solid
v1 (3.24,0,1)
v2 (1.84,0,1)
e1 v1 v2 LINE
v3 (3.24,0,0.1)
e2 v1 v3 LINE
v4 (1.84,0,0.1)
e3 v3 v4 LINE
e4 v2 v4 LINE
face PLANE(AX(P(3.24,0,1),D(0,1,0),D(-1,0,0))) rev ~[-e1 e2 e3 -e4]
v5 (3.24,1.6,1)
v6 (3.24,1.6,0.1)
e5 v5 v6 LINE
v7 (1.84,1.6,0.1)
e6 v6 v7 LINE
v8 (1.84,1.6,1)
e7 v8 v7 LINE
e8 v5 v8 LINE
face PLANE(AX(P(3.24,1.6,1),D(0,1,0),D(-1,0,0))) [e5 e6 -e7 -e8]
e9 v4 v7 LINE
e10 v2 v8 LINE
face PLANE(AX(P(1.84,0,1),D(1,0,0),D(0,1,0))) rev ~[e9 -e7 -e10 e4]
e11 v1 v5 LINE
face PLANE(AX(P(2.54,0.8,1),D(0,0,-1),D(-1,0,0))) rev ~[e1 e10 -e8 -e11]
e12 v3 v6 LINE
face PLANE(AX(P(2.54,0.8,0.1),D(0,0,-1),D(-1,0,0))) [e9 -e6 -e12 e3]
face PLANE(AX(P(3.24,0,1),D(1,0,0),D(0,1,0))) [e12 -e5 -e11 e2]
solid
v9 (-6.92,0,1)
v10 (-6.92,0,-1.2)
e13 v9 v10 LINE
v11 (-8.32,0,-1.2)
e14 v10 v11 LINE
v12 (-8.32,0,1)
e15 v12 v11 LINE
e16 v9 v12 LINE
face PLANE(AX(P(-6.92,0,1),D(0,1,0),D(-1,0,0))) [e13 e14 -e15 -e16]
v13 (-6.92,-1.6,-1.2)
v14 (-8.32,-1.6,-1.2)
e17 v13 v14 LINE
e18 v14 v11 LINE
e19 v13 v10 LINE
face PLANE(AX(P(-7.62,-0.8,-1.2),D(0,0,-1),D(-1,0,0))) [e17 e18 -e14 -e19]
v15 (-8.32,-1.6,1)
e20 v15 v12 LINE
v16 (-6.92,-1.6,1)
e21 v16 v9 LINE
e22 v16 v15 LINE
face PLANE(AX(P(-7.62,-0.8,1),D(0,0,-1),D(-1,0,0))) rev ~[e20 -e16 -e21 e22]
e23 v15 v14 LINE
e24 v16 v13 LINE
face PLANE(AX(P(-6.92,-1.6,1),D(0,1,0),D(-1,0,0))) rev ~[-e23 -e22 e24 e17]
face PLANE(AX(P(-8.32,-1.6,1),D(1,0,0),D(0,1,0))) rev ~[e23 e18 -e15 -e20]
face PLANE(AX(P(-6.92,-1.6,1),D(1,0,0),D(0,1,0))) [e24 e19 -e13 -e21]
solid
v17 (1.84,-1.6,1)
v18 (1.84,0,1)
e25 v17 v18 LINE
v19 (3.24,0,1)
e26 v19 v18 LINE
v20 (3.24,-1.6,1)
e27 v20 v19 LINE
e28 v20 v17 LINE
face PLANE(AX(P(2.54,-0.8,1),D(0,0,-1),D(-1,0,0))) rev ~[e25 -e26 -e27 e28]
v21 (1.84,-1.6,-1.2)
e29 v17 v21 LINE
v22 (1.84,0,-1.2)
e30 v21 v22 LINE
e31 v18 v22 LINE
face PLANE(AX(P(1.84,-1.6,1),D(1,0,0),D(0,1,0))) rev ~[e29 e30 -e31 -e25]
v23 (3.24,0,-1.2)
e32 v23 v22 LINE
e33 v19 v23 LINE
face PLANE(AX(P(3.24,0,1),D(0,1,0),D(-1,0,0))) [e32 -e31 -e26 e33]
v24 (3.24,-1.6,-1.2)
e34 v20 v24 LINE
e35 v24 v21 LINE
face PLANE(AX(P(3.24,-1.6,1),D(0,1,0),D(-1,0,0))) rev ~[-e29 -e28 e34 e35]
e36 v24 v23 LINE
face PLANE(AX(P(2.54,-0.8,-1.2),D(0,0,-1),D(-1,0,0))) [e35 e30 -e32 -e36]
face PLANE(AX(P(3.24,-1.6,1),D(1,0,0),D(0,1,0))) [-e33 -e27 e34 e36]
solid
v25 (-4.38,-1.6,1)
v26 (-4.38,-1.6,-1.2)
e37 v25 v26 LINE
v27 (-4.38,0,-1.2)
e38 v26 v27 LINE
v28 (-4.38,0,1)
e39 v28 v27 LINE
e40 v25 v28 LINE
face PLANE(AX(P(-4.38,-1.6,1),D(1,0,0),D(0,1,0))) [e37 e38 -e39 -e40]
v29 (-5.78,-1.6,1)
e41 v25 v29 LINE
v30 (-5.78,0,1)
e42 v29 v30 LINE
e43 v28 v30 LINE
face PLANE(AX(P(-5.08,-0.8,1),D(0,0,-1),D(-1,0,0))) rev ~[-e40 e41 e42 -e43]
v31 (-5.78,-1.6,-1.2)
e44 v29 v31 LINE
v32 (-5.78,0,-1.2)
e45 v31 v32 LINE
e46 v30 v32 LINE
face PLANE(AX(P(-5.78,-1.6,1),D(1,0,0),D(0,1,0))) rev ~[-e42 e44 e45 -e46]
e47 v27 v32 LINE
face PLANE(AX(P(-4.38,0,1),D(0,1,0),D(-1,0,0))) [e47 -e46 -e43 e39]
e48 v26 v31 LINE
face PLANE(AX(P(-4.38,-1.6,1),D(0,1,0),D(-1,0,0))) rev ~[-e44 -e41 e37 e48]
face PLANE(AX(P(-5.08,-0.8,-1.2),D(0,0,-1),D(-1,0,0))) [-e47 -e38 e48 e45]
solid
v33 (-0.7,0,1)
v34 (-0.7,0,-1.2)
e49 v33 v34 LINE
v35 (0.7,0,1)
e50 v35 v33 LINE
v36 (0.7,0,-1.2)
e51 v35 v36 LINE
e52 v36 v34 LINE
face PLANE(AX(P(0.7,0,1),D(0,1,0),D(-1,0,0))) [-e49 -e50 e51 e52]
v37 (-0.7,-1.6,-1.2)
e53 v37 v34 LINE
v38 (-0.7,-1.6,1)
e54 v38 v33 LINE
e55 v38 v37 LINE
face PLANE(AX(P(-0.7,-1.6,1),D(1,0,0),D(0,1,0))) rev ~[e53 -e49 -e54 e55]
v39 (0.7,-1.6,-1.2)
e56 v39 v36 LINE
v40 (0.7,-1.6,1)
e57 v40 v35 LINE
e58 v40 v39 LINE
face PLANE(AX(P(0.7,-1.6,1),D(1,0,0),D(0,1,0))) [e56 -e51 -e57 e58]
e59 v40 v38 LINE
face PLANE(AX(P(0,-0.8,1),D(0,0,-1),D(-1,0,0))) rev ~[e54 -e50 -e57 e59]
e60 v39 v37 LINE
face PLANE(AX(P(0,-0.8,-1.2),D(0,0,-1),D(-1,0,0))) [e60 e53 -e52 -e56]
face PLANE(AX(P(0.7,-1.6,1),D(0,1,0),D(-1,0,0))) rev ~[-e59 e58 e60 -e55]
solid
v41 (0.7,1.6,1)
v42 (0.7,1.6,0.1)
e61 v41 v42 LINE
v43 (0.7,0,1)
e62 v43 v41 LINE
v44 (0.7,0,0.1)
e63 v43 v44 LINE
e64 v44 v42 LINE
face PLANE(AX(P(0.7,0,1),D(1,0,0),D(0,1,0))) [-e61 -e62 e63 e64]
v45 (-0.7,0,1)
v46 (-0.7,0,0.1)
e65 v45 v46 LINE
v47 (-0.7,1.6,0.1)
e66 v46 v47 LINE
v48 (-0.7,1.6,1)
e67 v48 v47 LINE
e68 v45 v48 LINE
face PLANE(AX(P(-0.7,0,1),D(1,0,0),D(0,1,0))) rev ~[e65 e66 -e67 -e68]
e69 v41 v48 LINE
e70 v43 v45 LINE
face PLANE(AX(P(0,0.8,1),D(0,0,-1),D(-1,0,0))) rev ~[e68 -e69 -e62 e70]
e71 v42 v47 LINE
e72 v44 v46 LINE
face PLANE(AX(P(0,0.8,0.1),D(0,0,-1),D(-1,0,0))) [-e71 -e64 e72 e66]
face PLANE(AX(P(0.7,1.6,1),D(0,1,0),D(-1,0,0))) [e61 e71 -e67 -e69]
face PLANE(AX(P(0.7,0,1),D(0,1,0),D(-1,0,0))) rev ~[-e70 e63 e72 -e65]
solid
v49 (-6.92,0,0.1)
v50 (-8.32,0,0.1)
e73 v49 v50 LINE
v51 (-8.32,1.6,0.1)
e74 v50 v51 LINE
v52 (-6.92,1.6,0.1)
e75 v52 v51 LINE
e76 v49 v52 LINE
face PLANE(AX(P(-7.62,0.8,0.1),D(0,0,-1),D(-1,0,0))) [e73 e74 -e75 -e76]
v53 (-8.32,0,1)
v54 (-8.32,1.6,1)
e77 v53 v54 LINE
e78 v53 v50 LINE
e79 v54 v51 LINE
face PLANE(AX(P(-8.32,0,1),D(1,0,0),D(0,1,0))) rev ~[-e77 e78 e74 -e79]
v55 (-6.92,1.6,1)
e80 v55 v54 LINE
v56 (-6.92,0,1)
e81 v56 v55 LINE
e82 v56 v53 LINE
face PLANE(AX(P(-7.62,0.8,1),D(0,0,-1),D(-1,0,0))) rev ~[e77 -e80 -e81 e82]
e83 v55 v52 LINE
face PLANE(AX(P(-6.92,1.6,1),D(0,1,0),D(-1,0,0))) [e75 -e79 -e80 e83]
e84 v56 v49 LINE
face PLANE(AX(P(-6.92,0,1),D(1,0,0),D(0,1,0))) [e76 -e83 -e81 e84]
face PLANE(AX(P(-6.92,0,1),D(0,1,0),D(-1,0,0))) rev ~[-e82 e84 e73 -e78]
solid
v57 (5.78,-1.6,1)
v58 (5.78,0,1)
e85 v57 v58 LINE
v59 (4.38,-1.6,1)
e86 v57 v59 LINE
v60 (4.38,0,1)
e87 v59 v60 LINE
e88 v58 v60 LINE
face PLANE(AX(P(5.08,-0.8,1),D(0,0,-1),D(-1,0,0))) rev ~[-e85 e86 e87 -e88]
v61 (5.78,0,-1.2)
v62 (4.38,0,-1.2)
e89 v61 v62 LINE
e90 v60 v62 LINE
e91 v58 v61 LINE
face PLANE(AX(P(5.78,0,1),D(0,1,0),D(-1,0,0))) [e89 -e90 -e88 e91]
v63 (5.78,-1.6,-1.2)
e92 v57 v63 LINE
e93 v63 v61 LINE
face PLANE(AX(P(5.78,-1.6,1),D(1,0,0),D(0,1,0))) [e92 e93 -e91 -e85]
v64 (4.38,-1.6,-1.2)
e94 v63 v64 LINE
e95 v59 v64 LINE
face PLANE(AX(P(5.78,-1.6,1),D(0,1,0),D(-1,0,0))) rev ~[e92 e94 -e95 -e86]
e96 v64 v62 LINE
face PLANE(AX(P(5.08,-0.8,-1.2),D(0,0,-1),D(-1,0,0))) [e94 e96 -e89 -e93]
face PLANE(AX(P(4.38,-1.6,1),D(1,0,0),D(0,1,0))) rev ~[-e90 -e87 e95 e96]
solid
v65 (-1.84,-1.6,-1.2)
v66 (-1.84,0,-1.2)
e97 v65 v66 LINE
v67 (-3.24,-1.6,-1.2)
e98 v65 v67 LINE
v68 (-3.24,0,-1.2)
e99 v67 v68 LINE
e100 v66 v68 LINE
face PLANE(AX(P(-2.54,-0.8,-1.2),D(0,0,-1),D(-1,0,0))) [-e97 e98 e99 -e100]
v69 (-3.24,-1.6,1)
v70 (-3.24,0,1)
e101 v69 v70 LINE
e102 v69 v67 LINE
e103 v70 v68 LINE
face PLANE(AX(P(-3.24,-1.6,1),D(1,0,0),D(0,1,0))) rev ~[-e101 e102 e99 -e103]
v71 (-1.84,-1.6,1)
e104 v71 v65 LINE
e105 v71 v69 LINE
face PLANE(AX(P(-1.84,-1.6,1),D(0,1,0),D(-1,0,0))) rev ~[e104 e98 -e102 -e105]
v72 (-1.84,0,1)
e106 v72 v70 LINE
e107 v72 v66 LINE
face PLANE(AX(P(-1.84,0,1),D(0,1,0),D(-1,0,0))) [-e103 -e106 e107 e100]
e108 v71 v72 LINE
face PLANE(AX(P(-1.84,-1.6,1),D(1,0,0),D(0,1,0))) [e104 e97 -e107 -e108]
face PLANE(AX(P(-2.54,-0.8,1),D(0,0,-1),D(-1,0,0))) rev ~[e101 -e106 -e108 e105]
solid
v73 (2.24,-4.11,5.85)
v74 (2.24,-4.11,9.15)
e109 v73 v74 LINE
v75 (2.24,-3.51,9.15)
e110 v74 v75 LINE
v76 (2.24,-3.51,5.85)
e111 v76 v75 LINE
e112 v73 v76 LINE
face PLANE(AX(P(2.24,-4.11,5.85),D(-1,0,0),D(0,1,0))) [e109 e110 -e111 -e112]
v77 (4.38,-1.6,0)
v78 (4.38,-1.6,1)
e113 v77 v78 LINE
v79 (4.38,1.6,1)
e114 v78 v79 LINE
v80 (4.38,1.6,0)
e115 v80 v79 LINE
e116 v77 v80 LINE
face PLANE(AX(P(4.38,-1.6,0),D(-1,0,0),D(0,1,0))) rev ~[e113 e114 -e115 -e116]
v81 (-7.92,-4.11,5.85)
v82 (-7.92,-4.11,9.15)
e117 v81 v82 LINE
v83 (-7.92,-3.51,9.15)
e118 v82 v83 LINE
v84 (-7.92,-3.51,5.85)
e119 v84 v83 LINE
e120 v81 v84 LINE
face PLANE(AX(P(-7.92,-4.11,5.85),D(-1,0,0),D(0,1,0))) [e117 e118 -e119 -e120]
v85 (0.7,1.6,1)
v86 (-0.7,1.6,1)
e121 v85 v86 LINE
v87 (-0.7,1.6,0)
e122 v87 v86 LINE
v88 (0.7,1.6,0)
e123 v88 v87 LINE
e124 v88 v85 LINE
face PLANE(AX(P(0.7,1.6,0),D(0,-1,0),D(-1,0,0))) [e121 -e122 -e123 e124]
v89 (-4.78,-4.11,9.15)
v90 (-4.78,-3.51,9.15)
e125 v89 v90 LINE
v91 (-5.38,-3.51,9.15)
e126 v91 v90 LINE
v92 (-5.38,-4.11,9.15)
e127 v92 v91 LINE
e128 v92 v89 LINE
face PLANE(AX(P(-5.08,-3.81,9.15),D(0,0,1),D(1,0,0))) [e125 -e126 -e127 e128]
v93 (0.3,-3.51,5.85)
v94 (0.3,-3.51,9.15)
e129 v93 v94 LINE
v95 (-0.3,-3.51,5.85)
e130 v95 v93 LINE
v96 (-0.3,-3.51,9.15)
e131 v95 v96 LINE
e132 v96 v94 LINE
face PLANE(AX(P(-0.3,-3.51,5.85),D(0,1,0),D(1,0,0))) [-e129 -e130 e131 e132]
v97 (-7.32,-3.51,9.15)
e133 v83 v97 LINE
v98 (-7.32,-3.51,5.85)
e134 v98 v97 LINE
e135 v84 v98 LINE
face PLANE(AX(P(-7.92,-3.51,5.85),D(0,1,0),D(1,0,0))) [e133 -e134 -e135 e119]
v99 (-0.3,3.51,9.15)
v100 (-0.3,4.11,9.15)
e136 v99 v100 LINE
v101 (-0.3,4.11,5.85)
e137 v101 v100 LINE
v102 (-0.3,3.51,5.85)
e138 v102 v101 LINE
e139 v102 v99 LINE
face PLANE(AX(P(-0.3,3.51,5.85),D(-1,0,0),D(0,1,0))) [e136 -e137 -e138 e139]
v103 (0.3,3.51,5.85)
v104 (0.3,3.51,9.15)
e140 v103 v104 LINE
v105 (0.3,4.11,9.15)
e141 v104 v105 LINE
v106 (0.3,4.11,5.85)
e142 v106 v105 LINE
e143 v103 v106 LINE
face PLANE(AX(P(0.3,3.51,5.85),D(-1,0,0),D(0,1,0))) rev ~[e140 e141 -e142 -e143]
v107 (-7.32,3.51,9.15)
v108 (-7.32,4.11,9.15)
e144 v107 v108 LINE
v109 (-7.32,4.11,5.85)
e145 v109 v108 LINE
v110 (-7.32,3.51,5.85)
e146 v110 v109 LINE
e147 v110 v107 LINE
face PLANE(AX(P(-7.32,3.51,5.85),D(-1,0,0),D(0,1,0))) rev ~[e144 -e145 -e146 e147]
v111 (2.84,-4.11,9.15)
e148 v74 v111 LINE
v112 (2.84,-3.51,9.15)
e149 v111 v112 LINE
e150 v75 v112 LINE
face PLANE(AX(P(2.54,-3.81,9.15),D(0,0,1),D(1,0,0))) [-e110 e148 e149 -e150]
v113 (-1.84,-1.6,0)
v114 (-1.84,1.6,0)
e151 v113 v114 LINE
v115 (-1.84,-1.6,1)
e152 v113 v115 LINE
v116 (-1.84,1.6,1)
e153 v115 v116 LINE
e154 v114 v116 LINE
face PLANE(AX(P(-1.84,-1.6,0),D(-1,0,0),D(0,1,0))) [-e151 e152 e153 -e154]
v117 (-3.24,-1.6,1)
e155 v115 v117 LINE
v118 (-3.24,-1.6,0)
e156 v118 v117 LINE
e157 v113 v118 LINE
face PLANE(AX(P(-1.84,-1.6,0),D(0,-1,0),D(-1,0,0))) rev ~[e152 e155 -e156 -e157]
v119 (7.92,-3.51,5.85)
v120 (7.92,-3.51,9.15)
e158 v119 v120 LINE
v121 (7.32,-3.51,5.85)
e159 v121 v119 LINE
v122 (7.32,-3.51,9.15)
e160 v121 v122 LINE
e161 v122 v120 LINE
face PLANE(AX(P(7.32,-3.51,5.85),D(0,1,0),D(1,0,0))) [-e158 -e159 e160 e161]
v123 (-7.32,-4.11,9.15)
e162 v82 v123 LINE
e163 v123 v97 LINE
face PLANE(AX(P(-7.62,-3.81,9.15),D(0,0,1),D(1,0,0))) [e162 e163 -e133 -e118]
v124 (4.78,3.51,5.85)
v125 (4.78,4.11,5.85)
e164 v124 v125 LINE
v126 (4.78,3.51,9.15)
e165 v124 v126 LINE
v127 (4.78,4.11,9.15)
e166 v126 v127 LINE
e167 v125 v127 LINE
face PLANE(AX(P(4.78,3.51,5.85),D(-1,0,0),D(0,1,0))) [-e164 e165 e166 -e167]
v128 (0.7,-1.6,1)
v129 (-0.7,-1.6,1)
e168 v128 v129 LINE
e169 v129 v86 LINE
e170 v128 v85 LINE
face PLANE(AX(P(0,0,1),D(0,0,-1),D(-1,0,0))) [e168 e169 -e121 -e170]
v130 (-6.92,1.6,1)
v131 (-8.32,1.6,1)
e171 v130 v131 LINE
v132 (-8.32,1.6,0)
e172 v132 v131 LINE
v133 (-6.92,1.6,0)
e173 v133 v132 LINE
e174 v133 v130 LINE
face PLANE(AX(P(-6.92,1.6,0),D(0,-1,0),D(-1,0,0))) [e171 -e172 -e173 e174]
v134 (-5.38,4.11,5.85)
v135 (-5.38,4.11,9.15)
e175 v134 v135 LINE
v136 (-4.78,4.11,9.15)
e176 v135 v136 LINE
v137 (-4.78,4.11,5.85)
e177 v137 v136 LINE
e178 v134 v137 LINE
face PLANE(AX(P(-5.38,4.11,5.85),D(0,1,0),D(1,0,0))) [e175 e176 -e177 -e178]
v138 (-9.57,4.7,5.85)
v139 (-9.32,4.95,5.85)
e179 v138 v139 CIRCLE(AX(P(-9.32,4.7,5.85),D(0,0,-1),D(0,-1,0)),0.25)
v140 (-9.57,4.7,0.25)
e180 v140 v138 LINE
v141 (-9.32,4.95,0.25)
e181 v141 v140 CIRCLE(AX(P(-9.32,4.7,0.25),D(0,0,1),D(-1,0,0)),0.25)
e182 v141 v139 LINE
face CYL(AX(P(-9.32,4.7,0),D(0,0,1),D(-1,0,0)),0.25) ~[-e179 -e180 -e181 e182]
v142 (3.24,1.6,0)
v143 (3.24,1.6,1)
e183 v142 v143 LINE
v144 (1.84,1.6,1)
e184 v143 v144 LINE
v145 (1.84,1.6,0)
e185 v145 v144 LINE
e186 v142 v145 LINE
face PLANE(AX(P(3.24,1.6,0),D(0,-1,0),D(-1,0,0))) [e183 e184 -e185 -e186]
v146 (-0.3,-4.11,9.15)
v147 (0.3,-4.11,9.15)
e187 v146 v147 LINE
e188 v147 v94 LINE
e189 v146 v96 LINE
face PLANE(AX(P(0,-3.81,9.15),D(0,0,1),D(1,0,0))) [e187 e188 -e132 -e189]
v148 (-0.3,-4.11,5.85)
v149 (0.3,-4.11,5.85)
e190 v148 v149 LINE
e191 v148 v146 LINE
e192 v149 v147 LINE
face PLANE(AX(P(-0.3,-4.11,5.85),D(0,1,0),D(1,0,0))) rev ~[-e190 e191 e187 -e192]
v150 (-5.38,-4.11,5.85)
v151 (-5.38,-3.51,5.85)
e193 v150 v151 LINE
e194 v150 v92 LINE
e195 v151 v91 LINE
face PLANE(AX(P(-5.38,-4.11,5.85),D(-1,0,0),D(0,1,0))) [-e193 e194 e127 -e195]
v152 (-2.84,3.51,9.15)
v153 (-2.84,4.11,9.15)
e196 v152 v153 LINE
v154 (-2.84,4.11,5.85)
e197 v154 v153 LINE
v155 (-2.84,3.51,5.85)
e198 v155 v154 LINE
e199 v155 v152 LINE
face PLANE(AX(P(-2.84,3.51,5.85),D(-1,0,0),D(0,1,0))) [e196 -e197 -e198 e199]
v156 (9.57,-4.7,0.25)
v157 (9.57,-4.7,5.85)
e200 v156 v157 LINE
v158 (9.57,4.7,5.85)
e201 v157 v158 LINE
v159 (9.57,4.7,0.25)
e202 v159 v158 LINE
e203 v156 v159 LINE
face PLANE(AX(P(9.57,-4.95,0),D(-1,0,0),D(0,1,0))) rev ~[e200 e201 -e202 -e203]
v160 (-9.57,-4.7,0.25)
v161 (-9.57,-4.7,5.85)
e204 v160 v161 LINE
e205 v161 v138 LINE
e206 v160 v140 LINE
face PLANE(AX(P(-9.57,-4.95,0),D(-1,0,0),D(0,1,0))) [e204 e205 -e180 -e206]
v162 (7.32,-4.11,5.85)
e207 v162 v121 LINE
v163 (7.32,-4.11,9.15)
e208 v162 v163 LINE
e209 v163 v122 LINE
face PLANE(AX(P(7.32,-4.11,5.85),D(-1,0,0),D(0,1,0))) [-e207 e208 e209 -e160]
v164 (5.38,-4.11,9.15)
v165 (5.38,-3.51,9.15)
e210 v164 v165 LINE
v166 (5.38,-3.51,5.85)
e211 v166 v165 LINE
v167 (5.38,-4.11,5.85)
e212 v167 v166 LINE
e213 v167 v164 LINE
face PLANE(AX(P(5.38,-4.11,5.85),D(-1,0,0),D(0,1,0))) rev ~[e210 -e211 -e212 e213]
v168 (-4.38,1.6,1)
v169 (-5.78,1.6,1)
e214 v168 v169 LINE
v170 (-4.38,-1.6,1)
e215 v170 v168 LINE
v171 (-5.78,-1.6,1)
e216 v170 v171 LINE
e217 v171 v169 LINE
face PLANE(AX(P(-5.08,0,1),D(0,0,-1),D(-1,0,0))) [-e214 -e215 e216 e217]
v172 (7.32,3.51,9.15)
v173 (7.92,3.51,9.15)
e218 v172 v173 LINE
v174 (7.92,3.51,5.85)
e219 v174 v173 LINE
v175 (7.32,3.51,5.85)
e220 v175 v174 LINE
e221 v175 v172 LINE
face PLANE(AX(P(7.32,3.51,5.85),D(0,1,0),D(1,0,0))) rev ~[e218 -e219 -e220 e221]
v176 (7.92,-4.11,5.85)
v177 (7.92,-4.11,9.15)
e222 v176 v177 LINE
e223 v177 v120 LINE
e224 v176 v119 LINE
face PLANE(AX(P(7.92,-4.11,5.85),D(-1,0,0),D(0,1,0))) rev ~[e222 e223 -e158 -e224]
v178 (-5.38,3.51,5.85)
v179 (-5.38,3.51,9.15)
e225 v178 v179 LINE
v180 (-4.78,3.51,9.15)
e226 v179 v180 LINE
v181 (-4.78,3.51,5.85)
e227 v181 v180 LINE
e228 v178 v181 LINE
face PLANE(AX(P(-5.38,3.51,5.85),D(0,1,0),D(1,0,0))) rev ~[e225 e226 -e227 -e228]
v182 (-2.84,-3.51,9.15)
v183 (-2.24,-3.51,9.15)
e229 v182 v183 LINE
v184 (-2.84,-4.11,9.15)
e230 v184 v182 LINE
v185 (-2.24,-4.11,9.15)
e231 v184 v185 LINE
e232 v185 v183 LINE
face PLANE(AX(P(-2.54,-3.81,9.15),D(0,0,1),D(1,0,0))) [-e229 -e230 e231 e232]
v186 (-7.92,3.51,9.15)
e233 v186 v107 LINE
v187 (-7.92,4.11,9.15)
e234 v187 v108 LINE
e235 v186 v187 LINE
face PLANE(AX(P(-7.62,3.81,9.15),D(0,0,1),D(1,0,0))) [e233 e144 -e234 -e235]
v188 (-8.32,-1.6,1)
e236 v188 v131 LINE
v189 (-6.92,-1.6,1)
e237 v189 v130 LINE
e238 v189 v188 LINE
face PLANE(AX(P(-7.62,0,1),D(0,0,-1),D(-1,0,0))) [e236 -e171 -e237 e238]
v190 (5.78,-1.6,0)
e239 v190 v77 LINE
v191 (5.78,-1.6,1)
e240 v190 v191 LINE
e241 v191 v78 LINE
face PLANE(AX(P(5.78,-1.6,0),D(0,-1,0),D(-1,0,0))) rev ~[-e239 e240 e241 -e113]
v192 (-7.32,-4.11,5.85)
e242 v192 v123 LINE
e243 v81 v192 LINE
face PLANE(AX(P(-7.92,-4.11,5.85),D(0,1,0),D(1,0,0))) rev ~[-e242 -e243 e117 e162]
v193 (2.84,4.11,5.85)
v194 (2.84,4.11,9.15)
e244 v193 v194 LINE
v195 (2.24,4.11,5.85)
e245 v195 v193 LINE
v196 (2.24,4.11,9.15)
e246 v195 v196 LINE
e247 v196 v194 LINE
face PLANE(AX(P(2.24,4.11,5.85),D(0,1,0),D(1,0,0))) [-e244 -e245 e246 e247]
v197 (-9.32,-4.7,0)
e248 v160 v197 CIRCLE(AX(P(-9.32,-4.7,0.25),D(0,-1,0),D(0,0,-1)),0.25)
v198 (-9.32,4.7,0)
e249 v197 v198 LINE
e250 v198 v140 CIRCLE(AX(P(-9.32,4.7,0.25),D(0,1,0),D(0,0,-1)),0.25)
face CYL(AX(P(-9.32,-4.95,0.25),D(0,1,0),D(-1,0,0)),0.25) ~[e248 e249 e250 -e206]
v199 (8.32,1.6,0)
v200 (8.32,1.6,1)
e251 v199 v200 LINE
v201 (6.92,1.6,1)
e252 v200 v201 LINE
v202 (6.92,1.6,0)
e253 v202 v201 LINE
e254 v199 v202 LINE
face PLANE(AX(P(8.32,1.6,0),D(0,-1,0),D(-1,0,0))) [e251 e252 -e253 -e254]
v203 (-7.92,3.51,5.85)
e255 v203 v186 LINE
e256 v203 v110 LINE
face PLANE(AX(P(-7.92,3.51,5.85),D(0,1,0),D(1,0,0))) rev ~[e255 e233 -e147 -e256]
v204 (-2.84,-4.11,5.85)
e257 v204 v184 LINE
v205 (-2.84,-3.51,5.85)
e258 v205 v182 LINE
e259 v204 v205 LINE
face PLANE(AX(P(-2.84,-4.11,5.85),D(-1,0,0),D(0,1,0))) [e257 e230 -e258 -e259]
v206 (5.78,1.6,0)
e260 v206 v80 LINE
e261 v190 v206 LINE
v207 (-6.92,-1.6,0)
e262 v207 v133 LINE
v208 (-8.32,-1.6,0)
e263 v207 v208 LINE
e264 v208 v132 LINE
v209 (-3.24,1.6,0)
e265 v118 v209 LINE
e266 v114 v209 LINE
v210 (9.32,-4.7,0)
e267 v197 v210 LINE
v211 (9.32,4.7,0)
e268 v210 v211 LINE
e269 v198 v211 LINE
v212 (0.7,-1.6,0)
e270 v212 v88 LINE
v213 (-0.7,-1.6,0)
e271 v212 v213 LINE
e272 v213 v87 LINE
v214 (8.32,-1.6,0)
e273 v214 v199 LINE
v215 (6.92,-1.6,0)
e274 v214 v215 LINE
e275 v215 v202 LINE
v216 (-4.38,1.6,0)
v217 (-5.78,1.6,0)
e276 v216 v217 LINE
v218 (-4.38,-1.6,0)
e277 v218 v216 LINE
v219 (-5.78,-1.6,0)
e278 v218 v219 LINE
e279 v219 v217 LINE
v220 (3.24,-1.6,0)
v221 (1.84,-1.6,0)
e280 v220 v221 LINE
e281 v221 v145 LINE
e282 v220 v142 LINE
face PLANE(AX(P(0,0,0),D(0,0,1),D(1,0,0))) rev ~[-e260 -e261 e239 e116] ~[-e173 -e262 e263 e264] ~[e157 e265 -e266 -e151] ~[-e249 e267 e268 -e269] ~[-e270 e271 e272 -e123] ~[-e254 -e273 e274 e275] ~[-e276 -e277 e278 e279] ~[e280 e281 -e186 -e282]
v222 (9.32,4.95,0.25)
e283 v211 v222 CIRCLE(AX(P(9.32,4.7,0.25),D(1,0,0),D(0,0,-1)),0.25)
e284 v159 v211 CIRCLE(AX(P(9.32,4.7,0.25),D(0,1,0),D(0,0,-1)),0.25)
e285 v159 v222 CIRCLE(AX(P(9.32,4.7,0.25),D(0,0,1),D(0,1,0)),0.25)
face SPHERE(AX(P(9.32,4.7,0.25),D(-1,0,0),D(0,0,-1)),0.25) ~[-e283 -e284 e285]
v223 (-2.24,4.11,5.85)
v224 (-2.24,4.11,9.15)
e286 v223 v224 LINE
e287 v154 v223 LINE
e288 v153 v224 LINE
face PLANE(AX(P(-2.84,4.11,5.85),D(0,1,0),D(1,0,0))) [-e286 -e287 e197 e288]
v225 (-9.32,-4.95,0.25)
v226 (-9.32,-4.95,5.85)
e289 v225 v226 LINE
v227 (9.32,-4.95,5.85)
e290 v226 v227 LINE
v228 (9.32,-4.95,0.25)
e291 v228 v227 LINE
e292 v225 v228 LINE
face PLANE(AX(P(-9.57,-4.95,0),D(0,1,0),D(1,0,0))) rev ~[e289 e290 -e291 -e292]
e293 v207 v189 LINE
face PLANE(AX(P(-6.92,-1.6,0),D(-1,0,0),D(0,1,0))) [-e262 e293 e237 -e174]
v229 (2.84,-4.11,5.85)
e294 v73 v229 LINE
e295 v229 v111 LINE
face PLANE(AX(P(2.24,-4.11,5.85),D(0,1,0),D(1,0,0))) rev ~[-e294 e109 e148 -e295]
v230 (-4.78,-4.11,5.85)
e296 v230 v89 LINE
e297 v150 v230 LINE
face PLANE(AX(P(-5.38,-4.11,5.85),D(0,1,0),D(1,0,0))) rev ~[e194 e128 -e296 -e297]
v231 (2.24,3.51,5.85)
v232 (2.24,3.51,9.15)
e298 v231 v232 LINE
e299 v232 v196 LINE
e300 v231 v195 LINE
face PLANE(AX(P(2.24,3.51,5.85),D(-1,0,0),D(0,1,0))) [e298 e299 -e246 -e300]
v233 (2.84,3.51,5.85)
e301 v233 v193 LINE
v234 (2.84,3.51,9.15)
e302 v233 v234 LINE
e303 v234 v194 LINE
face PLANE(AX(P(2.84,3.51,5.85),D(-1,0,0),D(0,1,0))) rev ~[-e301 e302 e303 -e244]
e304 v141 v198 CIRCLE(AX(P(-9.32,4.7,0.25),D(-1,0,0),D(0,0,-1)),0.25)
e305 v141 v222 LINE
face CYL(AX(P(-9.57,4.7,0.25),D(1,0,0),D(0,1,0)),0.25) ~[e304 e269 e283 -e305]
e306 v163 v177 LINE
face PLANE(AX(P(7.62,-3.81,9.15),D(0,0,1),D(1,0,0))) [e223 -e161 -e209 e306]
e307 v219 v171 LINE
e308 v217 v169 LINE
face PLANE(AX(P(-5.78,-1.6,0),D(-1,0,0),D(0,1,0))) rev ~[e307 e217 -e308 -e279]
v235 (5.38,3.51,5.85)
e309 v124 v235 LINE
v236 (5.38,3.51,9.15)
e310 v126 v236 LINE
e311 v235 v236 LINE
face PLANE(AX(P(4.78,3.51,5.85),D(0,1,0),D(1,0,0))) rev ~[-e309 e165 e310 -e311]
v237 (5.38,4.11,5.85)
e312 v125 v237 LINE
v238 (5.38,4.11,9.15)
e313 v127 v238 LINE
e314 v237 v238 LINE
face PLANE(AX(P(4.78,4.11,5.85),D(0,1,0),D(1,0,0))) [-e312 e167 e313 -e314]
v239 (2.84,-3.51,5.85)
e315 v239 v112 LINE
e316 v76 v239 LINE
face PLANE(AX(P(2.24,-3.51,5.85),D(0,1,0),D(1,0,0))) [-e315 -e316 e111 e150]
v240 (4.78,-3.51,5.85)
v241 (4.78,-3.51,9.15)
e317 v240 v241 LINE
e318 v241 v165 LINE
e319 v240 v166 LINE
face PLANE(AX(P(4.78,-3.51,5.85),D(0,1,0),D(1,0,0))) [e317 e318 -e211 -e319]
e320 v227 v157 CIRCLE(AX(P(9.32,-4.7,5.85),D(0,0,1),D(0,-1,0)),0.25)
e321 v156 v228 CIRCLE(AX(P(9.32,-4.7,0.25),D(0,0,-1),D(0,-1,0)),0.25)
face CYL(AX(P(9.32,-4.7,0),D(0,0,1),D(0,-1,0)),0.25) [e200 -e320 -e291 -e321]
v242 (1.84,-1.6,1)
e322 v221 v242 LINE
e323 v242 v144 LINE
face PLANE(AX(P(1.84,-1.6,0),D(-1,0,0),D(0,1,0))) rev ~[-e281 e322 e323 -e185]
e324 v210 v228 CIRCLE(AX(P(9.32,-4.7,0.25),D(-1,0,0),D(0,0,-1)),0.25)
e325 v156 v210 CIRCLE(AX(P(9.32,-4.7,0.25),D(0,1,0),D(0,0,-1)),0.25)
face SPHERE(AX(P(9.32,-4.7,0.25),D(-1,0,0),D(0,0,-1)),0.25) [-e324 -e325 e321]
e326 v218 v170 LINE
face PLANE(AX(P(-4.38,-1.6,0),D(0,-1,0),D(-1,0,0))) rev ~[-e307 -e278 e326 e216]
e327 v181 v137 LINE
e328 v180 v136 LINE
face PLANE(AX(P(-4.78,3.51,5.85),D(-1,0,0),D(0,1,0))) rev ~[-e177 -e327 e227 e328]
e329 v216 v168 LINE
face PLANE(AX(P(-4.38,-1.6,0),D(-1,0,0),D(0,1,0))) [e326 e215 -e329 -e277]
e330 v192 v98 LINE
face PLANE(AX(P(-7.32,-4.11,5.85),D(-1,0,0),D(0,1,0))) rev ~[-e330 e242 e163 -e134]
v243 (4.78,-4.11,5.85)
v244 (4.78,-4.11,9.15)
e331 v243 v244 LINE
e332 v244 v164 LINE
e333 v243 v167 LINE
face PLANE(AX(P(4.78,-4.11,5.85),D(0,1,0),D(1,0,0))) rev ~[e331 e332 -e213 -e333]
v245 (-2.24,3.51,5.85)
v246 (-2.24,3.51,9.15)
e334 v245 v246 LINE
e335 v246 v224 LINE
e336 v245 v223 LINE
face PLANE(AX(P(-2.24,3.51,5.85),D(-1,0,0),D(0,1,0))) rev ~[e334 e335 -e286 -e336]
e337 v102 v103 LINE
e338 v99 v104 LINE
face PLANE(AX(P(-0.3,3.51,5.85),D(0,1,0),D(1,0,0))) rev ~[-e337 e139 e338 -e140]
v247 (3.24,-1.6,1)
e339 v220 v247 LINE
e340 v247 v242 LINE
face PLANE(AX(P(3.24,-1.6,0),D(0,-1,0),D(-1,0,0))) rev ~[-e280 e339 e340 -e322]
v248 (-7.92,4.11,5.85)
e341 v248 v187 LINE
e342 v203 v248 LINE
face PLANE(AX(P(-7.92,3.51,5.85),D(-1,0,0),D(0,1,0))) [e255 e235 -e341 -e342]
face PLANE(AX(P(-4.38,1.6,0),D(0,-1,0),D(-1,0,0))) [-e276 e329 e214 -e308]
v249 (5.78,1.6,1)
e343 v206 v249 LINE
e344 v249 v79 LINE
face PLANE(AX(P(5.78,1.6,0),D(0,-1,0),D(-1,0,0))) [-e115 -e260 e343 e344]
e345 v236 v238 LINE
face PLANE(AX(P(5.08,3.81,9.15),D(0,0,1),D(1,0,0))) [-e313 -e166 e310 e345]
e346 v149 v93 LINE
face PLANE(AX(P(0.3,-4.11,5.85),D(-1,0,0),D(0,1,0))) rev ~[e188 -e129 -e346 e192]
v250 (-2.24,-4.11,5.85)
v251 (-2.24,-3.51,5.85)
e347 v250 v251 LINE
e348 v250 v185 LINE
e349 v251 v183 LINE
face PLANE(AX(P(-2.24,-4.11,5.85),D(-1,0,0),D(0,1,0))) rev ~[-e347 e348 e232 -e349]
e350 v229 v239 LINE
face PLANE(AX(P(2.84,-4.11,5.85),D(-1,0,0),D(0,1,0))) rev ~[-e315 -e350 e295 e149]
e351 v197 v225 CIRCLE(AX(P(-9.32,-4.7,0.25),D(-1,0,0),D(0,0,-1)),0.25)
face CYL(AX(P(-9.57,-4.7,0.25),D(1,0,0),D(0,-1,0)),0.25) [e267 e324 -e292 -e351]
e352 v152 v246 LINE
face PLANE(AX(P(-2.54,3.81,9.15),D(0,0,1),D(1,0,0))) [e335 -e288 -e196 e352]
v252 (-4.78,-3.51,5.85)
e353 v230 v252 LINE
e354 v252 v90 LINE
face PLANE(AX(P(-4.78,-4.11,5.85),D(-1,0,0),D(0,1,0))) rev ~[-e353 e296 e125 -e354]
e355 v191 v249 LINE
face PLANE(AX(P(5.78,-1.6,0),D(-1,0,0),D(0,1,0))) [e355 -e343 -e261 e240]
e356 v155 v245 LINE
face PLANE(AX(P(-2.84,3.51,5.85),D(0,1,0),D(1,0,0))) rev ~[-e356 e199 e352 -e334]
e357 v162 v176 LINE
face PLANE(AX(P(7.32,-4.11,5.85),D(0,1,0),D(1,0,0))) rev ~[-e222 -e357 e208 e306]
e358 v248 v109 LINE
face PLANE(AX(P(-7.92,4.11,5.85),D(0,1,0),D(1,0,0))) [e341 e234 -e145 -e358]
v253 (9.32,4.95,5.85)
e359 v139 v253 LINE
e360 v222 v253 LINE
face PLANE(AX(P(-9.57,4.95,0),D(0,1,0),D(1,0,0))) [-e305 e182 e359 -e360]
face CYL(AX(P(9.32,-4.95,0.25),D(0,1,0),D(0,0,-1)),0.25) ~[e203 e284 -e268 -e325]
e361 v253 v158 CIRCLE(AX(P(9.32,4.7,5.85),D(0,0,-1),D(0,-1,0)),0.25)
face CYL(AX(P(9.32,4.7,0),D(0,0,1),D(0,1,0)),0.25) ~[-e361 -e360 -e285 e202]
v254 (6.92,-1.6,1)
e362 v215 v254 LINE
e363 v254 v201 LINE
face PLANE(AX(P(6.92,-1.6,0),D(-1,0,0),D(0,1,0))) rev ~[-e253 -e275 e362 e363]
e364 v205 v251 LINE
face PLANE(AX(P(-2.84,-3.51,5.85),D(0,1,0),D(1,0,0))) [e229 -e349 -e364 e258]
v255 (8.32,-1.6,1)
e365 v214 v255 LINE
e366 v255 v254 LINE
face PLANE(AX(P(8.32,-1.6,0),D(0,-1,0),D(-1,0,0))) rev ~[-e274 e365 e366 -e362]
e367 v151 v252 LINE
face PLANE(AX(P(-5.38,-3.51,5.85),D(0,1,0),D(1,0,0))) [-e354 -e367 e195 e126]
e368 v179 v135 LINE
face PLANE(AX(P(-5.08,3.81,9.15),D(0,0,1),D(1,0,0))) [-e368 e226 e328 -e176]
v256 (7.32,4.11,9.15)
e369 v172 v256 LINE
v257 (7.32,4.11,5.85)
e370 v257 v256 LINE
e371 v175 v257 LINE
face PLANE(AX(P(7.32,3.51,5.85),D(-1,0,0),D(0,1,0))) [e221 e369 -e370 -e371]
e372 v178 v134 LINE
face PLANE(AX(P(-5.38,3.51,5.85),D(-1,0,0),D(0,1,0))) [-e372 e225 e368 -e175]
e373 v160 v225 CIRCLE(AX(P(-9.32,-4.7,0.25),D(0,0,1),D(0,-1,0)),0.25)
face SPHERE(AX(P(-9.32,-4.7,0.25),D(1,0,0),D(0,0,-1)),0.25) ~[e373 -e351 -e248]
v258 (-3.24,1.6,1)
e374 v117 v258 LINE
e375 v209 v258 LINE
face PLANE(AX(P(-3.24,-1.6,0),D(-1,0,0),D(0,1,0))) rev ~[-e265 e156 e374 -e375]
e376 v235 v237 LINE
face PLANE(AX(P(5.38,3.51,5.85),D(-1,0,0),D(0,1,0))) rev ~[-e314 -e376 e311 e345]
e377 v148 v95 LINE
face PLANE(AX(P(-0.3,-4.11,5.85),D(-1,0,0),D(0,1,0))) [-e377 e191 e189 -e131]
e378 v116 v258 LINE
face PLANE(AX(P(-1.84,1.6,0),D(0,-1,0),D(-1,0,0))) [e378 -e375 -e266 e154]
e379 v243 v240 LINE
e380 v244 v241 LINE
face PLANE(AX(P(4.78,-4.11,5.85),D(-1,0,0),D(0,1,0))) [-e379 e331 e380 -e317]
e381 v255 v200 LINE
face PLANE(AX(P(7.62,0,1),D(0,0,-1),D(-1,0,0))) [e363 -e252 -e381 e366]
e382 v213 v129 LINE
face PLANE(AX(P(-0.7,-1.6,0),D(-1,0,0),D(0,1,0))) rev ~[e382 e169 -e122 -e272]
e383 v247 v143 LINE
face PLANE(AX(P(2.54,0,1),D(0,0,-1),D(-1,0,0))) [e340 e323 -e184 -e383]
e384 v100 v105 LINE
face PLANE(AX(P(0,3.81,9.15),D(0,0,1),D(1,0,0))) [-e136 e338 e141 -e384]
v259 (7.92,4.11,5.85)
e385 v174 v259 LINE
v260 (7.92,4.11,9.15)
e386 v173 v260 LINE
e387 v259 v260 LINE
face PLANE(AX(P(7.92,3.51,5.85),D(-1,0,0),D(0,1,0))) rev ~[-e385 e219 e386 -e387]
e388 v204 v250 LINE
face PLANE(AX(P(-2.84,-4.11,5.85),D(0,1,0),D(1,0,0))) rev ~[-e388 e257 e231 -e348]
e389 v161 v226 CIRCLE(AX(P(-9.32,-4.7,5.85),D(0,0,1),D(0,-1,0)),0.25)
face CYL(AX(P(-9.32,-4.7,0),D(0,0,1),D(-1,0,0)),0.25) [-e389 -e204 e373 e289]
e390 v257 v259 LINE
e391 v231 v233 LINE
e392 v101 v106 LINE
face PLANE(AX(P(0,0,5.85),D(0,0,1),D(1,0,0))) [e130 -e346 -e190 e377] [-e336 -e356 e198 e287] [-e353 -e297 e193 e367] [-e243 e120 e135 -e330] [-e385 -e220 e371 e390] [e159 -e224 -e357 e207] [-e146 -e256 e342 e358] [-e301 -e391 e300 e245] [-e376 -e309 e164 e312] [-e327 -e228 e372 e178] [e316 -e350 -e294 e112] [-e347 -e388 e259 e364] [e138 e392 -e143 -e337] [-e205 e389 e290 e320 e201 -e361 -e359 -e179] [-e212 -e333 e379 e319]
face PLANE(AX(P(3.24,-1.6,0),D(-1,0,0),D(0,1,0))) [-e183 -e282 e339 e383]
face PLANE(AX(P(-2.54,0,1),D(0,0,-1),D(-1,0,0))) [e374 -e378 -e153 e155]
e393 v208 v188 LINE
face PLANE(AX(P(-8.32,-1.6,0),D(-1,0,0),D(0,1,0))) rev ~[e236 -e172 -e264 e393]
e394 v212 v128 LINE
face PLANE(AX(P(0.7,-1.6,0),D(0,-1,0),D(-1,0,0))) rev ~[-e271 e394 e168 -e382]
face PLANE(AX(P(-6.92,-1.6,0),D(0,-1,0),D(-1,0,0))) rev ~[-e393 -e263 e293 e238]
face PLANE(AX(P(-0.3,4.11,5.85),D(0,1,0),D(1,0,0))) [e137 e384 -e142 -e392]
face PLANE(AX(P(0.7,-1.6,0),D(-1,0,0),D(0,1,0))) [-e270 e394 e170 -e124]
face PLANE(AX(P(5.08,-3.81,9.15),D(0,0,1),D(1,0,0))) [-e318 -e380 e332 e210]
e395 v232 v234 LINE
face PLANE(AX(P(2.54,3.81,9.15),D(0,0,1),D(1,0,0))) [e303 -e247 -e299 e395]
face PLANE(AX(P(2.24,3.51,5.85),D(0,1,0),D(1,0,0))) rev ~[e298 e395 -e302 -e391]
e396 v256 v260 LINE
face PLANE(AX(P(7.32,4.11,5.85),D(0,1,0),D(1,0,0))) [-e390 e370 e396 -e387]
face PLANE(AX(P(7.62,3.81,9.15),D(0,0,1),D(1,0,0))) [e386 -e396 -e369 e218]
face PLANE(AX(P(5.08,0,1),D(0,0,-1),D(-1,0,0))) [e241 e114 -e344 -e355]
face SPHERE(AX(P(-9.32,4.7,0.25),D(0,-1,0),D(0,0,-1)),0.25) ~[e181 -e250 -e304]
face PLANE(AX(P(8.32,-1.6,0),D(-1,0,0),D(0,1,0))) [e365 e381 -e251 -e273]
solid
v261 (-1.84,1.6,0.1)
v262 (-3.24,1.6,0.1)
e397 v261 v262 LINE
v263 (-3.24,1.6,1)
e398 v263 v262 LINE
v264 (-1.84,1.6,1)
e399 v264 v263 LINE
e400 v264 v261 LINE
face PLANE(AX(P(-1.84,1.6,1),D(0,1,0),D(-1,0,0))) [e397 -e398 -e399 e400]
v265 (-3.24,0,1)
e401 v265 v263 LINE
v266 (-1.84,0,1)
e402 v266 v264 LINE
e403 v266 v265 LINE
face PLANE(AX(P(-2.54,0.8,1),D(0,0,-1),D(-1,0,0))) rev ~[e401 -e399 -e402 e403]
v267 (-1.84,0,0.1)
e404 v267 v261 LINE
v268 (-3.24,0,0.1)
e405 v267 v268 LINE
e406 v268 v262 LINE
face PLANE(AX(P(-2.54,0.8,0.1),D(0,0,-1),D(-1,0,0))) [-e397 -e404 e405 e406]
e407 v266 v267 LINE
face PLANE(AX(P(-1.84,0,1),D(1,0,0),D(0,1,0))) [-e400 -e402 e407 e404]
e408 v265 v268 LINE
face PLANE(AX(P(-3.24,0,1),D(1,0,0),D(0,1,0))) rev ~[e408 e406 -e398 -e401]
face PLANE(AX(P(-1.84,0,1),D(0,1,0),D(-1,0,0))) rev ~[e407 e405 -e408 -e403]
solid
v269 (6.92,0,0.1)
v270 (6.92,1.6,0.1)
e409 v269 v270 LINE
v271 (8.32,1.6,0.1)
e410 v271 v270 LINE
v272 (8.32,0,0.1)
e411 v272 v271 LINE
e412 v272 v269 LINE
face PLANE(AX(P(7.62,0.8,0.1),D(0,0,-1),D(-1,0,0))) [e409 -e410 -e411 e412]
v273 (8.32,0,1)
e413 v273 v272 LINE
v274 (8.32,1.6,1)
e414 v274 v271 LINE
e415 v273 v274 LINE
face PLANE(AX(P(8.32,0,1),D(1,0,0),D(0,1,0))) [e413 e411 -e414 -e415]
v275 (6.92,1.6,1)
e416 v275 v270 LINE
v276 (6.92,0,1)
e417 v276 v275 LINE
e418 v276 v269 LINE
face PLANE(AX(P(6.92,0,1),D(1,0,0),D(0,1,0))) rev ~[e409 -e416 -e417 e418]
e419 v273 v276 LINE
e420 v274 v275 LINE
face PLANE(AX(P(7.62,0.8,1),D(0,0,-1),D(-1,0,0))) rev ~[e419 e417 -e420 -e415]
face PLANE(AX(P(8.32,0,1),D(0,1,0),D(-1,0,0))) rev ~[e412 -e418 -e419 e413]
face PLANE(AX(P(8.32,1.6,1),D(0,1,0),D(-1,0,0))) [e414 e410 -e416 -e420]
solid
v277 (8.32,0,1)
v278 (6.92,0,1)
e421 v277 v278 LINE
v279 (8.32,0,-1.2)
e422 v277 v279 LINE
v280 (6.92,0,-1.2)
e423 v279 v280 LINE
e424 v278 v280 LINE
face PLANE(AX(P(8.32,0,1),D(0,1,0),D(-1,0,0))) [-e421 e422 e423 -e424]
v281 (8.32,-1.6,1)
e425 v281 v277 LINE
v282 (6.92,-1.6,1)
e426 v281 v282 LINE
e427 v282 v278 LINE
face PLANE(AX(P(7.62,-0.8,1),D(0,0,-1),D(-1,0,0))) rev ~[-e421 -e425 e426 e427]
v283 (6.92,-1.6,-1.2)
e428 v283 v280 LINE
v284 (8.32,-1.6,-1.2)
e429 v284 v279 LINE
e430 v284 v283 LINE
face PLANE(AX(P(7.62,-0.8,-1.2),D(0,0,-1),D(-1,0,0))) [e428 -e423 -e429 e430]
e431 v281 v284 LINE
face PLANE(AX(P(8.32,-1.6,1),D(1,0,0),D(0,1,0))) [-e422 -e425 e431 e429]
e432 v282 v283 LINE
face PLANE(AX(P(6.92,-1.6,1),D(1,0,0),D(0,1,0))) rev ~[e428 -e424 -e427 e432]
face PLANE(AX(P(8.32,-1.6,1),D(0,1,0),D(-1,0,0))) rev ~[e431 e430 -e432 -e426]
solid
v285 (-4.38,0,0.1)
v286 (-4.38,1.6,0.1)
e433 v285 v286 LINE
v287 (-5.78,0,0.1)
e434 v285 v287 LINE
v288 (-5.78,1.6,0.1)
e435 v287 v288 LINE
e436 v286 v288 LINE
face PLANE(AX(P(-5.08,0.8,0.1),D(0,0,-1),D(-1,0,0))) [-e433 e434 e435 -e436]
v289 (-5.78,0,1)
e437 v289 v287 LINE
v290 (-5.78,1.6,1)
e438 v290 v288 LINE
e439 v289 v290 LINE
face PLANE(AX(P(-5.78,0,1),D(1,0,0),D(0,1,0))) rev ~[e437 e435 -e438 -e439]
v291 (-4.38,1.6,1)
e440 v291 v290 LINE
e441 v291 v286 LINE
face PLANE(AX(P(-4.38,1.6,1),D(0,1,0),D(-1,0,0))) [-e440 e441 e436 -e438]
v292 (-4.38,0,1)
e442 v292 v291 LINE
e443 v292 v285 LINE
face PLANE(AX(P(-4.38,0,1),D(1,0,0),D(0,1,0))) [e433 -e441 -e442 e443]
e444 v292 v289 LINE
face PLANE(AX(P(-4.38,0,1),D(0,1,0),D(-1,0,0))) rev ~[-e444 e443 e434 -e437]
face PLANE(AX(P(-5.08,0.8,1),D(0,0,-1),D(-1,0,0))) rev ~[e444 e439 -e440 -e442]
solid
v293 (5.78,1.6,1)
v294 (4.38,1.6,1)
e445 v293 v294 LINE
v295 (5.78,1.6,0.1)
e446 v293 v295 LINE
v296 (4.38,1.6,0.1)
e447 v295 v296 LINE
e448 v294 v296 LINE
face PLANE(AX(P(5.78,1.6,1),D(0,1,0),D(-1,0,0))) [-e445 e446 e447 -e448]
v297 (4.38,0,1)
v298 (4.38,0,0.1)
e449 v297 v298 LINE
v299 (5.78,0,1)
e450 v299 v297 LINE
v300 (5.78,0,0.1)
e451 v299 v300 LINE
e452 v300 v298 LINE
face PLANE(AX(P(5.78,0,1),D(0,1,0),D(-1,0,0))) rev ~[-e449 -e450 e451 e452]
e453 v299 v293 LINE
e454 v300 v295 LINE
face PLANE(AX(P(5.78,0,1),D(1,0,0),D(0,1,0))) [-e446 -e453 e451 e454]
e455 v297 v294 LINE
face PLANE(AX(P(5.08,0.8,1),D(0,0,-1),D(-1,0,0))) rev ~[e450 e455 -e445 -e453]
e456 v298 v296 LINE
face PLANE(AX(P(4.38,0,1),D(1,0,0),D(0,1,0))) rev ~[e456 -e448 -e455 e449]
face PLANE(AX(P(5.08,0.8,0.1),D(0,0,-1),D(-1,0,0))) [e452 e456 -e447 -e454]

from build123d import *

# Parameters (mm, degrees)
IZIM1_W                       = 19.14
IZIM1_H                       = 9.9
Y_KSEKLIK_EKSTR_ZYON1_DEPTH   = 5.85
IZIM2_W                       = 1.4
IZIM2_H                       = 3.2
KES_EKSTR_ZYON1_DEPTH         = 1
IZIM3_W                       = 1.4
IZIM3_H                       = 1.6
Y_KSEKLIK_EKSTR_ZYON2_DEPTH   = 2.2
Y_KSEKLIK_EKSTR_ZYON2_2_DEPTH = 2.2
Y_KSEKLIK_EKSTR_ZYON2_3_DEPTH = 2.2
Y_KSEKLIK_EKSTR_ZYON2_4_DEPTH = 2.2
Y_KSEKLIK_EKSTR_ZYON2_5_DEPTH = 2.2
Y_KSEKLIK_EKSTR_ZYON2_6_DEPTH = 2.2
Y_KSEKLIK_EKSTR_ZYON2_7_DEPTH = 2.2
IZIM4_W                       = 1.4
IZIM4_H                       = 1.6
Y_KSEKLIK_EKSTR_ZYON3_DEPTH   = 0.9
Y_KSEKLIK_EKSTR_ZYON3_2_DEPTH = 0.9
Y_KSEKLIK_EKSTR_ZYON3_3_DEPTH = 0.9
Y_KSEKLIK_EKSTR_ZYON3_4_DEPTH = 0.9
Y_KSEKLIK_EKSTR_ZYON3_5_DEPTH = 0.9
Y_KSEKLIK_EKSTR_ZYON3_6_DEPTH = 0.9
Y_KSEKLIK_EKSTR_ZYON3_7_DEPTH = 0.9
RADYUS1_R                     = 0.25
IZIM5_W                       = 0.6
IZIM5_H                       = 0.6
Y_KSEKLIK_EKSTR_ZYON4_DEPTH   = 3.3


with BuildPart() as part:
    # Çizim1 → Yükseklik-Ekstrüzyon1 (new body)
    with BuildSketch(Plane.XY):
        Rectangle(IZIM1_W, IZIM1_H)
    extrude(amount=Y_KSEKLIK_EKSTR_ZYON1_DEPTH)

    # Çizim2 → Kes-Ekstrüzyon1 (cut)
    with BuildSketch(Plane(origin=(0, 0, 0), x_dir=(-1, 0, 0), z_dir=(0, 0, -1))):
        with Locations((-7.62, 0)):
            Rectangle(IZIM2_W, IZIM2_H)
        with Locations((-5.08, 0)):
            Rectangle(IZIM2_W, IZIM2_H)
        with Locations((-2.54, 0)):
            Rectangle(IZIM2_W, IZIM2_H)
        Rectangle(IZIM2_W, IZIM2_H)
        with Locations((2.54, 0)):
            Rectangle(IZIM2_W, IZIM2_H)
        with Locations((5.08, 0)):
            Rectangle(IZIM2_W, IZIM2_H)
        with Locations((7.62, 0)):
            Rectangle(IZIM2_W, IZIM2_H)
    extrude(amount=-KES_EKSTR_ZYON1_DEPTH, mode=Mode.SUBTRACT)

    # Radyus1
    radyus1_edges = [part.edges().sort_by_distance(p)[0] for p in [
        (0, -4.95, 0),
        (-9.57, 0, 0),
        (0, 4.95, 0),
        (9.57, 0, 0),
        (9.57, -4.95, 2.925),
        (-9.57, -4.95, 2.925),
        (-9.57, 4.95, 2.925),
        (9.57, 4.95, 2.925),
    ]]
    fillet(radyus1_edges, radius=RADYUS1_R)

    # Çizim5 → Yükseklik-Ekstrüzyon4 (add)
    with BuildSketch(Plane.XY.offset(5.85)):
        with Locations((-7.62, 3.81)):
            Rectangle(IZIM5_W, IZIM5_H)
        with Locations((-5.08, 3.81)):
            Rectangle(IZIM5_W, IZIM5_H)
        with Locations((-2.54, 3.81)):
            Rectangle(IZIM5_W, IZIM5_H)
        with Locations((0, 3.81)):
            Rectangle(IZIM5_W, IZIM5_H)
        with Locations((2.54, 3.81)):
            Rectangle(IZIM5_W, IZIM5_H)
        with Locations((5.08, 3.81)):
            Rectangle(IZIM5_W, IZIM5_H)
        with Locations((7.62, 3.81)):
            Rectangle(IZIM5_W, IZIM5_H)
        with Locations((7.62, -3.81)):
            Rectangle(IZIM5_W, IZIM5_H)
        with Locations((5.08, -3.81)):
            Rectangle(IZIM5_W, IZIM5_H)
        with Locations((2.54, -3.81)):
            Rectangle(IZIM5_W, IZIM5_H)
        with Locations((0, -3.81)):
            Rectangle(IZIM5_W, IZIM5_H)
        with Locations((-2.54, -3.81)):
            Rectangle(IZIM5_W, IZIM5_H)
        with Locations((-5.08, -3.81)):
            Rectangle(IZIM5_W, IZIM5_H)
        with Locations((-7.62, -3.81)):
            Rectangle(IZIM5_W, IZIM5_H)
    extrude(amount=Y_KSEKLIK_EKSTR_ZYON4_DEPTH)


with BuildPart() as body_2:
    # Çizim3 → Yükseklik-Ekstrüzyon2 (new body)
    with BuildSketch(Plane(origin=(0, 0, 1), x_dir=(-1, 0, 0), z_dir=(0, 0, -1))):
        with Locations((-7.62, -0.8)):
            Rectangle(IZIM3_W, IZIM3_H)
    extrude(amount=Y_KSEKLIK_EKSTR_ZYON2_DEPTH)


with BuildPart() as body_3:
    # Çizim3 → Y_kseklik-Ekstr_zyon2 2 (new body)
    with BuildSketch(Plane(origin=(0, 0, 1), x_dir=(-1, 0, 0), z_dir=(0, 0, -1))):
        with Locations((-5.08, -0.8)):
            Rectangle(IZIM3_W, IZIM3_H)
    extrude(amount=Y_KSEKLIK_EKSTR_ZYON2_2_DEPTH)


with BuildPart() as body_4:
    # Çizim3 → Y_kseklik-Ekstr_zyon2 3 (new body)
    with BuildSketch(Plane(origin=(0, 0, 1), x_dir=(-1, 0, 0), z_dir=(0, 0, -1))):
        with Locations((-2.54, -0.8)):
            Rectangle(IZIM3_W, IZIM3_H)
    extrude(amount=Y_KSEKLIK_EKSTR_ZYON2_3_DEPTH)


with BuildPart() as body_5:
    # Çizim3 → Y_kseklik-Ekstr_zyon2 4 (new body)
    with BuildSketch(Plane(origin=(0, 0, 1), x_dir=(-1, 0, 0), z_dir=(0, 0, -1))):
        with Locations((0, -0.8)):
            Rectangle(IZIM3_W, IZIM3_H)
    extrude(amount=Y_KSEKLIK_EKSTR_ZYON2_4_DEPTH)


with BuildPart() as body_6:
    # Çizim3 → Y_kseklik-Ekstr_zyon2 5 (new body)
    with BuildSketch(Plane(origin=(0, 0, 1), x_dir=(-1, 0, 0), z_dir=(0, 0, -1))):
        with Locations((2.54, -0.8)):
            Rectangle(IZIM3_W, IZIM3_H)
    extrude(amount=Y_KSEKLIK_EKSTR_ZYON2_5_DEPTH)


with BuildPart() as body_7:
    # Çizim3 → Y_kseklik-Ekstr_zyon2 6 (new body)
    with BuildSketch(Plane(origin=(0, 0, 1), x_dir=(-1, 0, 0), z_dir=(0, 0, -1))):
        with Locations((5.08, -0.8)):
            Rectangle(IZIM3_W, IZIM3_H)
    extrude(amount=Y_KSEKLIK_EKSTR_ZYON2_6_DEPTH)


with BuildPart() as body_8:
    # Çizim3 → Y_kseklik-Ekstr_zyon2 7 (new body)
    with BuildSketch(Plane(origin=(0, 0, 1), x_dir=(-1, 0, 0), z_dir=(0, 0, -1))):
        with Locations((7.62, -0.8)):
            Rectangle(IZIM3_W, IZIM3_H)
    extrude(amount=Y_KSEKLIK_EKSTR_ZYON2_7_DEPTH)


with BuildPart() as body_9:
    # Çizim4 → Yükseklik-Ekstrüzyon3 (new body)
    with BuildSketch(Plane(origin=(0, 0, 1), x_dir=(-1, 0, 0), z_dir=(0, 0, -1))):
        with Locations((-7.62, 0.8)):
            Rectangle(IZIM4_W, IZIM4_H)
    extrude(amount=Y_KSEKLIK_EKSTR_ZYON3_DEPTH)


with BuildPart() as body_10:
    # Çizim4 → Y_kseklik-Ekstr_zyon3 2 (new body)
    with BuildSketch(Plane(origin=(0, 0, 1), x_dir=(-1, 0, 0), z_dir=(0, 0, -1))):
        with Locations((-5.08, 0.8)):
            Rectangle(IZIM4_W, IZIM4_H)
    extrude(amount=Y_KSEKLIK_EKSTR_ZYON3_2_DEPTH)


with BuildPart() as body_11:
    # Çizim4 → Y_kseklik-Ekstr_zyon3 3 (new body)
    with BuildSketch(Plane(origin=(0, 0, 1), x_dir=(-1, 0, 0), z_dir=(0, 0, -1))):
        with Locations((-2.54, 0.8)):
            Rectangle(IZIM4_W, IZIM4_H)
    extrude(amount=Y_KSEKLIK_EKSTR_ZYON3_3_DEPTH)


with BuildPart() as body_12:
    # Çizim4 → Y_kseklik-Ekstr_zyon3 4 (new body)
    with BuildSketch(Plane(origin=(0, 0, 1), x_dir=(-1, 0, 0), z_dir=(0, 0, -1))):
        with Locations((0, 0.8)):
            Rectangle(IZIM4_W, IZIM4_H)
    extrude(amount=Y_KSEKLIK_EKSTR_ZYON3_4_DEPTH)


with BuildPart() as body_13:
    # Çizim4 → Y_kseklik-Ekstr_zyon3 5 (new body)
    with BuildSketch(Plane(origin=(0, 0, 1), x_dir=(-1, 0, 0), z_dir=(0, 0, -1))):
        with Locations((2.54, 0.8)):
            Rectangle(IZIM4_W, IZIM4_H)
    extrude(amount=Y_KSEKLIK_EKSTR_ZYON3_5_DEPTH)


with BuildPart() as body_14:
    # Çizim4 → Y_kseklik-Ekstr_zyon3 6 (new body)
    with BuildSketch(Plane(origin=(0, 0, 1), x_dir=(-1, 0, 0), z_dir=(0, 0, -1))):
        with Locations((5.08, 0.8)):
            Rectangle(IZIM4_W, IZIM4_H)
    extrude(amount=Y_KSEKLIK_EKSTR_ZYON3_6_DEPTH)


with BuildPart() as body_15:
    # Çizim4 → Y_kseklik-Ekstr_zyon3 7 (new body)
    with BuildSketch(Plane(origin=(0, 0, 1), x_dir=(-1, 0, 0), z_dir=(0, 0, -1))):
        with Locations((7.62, 0.8)):
            Rectangle(IZIM4_W, IZIM4_H)
    extrude(amount=Y_KSEKLIK_EKSTR_ZYON3_7_DEPTH)


solid = Compound([part.part, body_2.part, body_3.part, body_4.part, body_5.part, body_6.part, body_7.part, body_8.part, body_9.part, body_10.part, body_11.part, body_12.part, body_13.part, body_14.part, body_15.part])
